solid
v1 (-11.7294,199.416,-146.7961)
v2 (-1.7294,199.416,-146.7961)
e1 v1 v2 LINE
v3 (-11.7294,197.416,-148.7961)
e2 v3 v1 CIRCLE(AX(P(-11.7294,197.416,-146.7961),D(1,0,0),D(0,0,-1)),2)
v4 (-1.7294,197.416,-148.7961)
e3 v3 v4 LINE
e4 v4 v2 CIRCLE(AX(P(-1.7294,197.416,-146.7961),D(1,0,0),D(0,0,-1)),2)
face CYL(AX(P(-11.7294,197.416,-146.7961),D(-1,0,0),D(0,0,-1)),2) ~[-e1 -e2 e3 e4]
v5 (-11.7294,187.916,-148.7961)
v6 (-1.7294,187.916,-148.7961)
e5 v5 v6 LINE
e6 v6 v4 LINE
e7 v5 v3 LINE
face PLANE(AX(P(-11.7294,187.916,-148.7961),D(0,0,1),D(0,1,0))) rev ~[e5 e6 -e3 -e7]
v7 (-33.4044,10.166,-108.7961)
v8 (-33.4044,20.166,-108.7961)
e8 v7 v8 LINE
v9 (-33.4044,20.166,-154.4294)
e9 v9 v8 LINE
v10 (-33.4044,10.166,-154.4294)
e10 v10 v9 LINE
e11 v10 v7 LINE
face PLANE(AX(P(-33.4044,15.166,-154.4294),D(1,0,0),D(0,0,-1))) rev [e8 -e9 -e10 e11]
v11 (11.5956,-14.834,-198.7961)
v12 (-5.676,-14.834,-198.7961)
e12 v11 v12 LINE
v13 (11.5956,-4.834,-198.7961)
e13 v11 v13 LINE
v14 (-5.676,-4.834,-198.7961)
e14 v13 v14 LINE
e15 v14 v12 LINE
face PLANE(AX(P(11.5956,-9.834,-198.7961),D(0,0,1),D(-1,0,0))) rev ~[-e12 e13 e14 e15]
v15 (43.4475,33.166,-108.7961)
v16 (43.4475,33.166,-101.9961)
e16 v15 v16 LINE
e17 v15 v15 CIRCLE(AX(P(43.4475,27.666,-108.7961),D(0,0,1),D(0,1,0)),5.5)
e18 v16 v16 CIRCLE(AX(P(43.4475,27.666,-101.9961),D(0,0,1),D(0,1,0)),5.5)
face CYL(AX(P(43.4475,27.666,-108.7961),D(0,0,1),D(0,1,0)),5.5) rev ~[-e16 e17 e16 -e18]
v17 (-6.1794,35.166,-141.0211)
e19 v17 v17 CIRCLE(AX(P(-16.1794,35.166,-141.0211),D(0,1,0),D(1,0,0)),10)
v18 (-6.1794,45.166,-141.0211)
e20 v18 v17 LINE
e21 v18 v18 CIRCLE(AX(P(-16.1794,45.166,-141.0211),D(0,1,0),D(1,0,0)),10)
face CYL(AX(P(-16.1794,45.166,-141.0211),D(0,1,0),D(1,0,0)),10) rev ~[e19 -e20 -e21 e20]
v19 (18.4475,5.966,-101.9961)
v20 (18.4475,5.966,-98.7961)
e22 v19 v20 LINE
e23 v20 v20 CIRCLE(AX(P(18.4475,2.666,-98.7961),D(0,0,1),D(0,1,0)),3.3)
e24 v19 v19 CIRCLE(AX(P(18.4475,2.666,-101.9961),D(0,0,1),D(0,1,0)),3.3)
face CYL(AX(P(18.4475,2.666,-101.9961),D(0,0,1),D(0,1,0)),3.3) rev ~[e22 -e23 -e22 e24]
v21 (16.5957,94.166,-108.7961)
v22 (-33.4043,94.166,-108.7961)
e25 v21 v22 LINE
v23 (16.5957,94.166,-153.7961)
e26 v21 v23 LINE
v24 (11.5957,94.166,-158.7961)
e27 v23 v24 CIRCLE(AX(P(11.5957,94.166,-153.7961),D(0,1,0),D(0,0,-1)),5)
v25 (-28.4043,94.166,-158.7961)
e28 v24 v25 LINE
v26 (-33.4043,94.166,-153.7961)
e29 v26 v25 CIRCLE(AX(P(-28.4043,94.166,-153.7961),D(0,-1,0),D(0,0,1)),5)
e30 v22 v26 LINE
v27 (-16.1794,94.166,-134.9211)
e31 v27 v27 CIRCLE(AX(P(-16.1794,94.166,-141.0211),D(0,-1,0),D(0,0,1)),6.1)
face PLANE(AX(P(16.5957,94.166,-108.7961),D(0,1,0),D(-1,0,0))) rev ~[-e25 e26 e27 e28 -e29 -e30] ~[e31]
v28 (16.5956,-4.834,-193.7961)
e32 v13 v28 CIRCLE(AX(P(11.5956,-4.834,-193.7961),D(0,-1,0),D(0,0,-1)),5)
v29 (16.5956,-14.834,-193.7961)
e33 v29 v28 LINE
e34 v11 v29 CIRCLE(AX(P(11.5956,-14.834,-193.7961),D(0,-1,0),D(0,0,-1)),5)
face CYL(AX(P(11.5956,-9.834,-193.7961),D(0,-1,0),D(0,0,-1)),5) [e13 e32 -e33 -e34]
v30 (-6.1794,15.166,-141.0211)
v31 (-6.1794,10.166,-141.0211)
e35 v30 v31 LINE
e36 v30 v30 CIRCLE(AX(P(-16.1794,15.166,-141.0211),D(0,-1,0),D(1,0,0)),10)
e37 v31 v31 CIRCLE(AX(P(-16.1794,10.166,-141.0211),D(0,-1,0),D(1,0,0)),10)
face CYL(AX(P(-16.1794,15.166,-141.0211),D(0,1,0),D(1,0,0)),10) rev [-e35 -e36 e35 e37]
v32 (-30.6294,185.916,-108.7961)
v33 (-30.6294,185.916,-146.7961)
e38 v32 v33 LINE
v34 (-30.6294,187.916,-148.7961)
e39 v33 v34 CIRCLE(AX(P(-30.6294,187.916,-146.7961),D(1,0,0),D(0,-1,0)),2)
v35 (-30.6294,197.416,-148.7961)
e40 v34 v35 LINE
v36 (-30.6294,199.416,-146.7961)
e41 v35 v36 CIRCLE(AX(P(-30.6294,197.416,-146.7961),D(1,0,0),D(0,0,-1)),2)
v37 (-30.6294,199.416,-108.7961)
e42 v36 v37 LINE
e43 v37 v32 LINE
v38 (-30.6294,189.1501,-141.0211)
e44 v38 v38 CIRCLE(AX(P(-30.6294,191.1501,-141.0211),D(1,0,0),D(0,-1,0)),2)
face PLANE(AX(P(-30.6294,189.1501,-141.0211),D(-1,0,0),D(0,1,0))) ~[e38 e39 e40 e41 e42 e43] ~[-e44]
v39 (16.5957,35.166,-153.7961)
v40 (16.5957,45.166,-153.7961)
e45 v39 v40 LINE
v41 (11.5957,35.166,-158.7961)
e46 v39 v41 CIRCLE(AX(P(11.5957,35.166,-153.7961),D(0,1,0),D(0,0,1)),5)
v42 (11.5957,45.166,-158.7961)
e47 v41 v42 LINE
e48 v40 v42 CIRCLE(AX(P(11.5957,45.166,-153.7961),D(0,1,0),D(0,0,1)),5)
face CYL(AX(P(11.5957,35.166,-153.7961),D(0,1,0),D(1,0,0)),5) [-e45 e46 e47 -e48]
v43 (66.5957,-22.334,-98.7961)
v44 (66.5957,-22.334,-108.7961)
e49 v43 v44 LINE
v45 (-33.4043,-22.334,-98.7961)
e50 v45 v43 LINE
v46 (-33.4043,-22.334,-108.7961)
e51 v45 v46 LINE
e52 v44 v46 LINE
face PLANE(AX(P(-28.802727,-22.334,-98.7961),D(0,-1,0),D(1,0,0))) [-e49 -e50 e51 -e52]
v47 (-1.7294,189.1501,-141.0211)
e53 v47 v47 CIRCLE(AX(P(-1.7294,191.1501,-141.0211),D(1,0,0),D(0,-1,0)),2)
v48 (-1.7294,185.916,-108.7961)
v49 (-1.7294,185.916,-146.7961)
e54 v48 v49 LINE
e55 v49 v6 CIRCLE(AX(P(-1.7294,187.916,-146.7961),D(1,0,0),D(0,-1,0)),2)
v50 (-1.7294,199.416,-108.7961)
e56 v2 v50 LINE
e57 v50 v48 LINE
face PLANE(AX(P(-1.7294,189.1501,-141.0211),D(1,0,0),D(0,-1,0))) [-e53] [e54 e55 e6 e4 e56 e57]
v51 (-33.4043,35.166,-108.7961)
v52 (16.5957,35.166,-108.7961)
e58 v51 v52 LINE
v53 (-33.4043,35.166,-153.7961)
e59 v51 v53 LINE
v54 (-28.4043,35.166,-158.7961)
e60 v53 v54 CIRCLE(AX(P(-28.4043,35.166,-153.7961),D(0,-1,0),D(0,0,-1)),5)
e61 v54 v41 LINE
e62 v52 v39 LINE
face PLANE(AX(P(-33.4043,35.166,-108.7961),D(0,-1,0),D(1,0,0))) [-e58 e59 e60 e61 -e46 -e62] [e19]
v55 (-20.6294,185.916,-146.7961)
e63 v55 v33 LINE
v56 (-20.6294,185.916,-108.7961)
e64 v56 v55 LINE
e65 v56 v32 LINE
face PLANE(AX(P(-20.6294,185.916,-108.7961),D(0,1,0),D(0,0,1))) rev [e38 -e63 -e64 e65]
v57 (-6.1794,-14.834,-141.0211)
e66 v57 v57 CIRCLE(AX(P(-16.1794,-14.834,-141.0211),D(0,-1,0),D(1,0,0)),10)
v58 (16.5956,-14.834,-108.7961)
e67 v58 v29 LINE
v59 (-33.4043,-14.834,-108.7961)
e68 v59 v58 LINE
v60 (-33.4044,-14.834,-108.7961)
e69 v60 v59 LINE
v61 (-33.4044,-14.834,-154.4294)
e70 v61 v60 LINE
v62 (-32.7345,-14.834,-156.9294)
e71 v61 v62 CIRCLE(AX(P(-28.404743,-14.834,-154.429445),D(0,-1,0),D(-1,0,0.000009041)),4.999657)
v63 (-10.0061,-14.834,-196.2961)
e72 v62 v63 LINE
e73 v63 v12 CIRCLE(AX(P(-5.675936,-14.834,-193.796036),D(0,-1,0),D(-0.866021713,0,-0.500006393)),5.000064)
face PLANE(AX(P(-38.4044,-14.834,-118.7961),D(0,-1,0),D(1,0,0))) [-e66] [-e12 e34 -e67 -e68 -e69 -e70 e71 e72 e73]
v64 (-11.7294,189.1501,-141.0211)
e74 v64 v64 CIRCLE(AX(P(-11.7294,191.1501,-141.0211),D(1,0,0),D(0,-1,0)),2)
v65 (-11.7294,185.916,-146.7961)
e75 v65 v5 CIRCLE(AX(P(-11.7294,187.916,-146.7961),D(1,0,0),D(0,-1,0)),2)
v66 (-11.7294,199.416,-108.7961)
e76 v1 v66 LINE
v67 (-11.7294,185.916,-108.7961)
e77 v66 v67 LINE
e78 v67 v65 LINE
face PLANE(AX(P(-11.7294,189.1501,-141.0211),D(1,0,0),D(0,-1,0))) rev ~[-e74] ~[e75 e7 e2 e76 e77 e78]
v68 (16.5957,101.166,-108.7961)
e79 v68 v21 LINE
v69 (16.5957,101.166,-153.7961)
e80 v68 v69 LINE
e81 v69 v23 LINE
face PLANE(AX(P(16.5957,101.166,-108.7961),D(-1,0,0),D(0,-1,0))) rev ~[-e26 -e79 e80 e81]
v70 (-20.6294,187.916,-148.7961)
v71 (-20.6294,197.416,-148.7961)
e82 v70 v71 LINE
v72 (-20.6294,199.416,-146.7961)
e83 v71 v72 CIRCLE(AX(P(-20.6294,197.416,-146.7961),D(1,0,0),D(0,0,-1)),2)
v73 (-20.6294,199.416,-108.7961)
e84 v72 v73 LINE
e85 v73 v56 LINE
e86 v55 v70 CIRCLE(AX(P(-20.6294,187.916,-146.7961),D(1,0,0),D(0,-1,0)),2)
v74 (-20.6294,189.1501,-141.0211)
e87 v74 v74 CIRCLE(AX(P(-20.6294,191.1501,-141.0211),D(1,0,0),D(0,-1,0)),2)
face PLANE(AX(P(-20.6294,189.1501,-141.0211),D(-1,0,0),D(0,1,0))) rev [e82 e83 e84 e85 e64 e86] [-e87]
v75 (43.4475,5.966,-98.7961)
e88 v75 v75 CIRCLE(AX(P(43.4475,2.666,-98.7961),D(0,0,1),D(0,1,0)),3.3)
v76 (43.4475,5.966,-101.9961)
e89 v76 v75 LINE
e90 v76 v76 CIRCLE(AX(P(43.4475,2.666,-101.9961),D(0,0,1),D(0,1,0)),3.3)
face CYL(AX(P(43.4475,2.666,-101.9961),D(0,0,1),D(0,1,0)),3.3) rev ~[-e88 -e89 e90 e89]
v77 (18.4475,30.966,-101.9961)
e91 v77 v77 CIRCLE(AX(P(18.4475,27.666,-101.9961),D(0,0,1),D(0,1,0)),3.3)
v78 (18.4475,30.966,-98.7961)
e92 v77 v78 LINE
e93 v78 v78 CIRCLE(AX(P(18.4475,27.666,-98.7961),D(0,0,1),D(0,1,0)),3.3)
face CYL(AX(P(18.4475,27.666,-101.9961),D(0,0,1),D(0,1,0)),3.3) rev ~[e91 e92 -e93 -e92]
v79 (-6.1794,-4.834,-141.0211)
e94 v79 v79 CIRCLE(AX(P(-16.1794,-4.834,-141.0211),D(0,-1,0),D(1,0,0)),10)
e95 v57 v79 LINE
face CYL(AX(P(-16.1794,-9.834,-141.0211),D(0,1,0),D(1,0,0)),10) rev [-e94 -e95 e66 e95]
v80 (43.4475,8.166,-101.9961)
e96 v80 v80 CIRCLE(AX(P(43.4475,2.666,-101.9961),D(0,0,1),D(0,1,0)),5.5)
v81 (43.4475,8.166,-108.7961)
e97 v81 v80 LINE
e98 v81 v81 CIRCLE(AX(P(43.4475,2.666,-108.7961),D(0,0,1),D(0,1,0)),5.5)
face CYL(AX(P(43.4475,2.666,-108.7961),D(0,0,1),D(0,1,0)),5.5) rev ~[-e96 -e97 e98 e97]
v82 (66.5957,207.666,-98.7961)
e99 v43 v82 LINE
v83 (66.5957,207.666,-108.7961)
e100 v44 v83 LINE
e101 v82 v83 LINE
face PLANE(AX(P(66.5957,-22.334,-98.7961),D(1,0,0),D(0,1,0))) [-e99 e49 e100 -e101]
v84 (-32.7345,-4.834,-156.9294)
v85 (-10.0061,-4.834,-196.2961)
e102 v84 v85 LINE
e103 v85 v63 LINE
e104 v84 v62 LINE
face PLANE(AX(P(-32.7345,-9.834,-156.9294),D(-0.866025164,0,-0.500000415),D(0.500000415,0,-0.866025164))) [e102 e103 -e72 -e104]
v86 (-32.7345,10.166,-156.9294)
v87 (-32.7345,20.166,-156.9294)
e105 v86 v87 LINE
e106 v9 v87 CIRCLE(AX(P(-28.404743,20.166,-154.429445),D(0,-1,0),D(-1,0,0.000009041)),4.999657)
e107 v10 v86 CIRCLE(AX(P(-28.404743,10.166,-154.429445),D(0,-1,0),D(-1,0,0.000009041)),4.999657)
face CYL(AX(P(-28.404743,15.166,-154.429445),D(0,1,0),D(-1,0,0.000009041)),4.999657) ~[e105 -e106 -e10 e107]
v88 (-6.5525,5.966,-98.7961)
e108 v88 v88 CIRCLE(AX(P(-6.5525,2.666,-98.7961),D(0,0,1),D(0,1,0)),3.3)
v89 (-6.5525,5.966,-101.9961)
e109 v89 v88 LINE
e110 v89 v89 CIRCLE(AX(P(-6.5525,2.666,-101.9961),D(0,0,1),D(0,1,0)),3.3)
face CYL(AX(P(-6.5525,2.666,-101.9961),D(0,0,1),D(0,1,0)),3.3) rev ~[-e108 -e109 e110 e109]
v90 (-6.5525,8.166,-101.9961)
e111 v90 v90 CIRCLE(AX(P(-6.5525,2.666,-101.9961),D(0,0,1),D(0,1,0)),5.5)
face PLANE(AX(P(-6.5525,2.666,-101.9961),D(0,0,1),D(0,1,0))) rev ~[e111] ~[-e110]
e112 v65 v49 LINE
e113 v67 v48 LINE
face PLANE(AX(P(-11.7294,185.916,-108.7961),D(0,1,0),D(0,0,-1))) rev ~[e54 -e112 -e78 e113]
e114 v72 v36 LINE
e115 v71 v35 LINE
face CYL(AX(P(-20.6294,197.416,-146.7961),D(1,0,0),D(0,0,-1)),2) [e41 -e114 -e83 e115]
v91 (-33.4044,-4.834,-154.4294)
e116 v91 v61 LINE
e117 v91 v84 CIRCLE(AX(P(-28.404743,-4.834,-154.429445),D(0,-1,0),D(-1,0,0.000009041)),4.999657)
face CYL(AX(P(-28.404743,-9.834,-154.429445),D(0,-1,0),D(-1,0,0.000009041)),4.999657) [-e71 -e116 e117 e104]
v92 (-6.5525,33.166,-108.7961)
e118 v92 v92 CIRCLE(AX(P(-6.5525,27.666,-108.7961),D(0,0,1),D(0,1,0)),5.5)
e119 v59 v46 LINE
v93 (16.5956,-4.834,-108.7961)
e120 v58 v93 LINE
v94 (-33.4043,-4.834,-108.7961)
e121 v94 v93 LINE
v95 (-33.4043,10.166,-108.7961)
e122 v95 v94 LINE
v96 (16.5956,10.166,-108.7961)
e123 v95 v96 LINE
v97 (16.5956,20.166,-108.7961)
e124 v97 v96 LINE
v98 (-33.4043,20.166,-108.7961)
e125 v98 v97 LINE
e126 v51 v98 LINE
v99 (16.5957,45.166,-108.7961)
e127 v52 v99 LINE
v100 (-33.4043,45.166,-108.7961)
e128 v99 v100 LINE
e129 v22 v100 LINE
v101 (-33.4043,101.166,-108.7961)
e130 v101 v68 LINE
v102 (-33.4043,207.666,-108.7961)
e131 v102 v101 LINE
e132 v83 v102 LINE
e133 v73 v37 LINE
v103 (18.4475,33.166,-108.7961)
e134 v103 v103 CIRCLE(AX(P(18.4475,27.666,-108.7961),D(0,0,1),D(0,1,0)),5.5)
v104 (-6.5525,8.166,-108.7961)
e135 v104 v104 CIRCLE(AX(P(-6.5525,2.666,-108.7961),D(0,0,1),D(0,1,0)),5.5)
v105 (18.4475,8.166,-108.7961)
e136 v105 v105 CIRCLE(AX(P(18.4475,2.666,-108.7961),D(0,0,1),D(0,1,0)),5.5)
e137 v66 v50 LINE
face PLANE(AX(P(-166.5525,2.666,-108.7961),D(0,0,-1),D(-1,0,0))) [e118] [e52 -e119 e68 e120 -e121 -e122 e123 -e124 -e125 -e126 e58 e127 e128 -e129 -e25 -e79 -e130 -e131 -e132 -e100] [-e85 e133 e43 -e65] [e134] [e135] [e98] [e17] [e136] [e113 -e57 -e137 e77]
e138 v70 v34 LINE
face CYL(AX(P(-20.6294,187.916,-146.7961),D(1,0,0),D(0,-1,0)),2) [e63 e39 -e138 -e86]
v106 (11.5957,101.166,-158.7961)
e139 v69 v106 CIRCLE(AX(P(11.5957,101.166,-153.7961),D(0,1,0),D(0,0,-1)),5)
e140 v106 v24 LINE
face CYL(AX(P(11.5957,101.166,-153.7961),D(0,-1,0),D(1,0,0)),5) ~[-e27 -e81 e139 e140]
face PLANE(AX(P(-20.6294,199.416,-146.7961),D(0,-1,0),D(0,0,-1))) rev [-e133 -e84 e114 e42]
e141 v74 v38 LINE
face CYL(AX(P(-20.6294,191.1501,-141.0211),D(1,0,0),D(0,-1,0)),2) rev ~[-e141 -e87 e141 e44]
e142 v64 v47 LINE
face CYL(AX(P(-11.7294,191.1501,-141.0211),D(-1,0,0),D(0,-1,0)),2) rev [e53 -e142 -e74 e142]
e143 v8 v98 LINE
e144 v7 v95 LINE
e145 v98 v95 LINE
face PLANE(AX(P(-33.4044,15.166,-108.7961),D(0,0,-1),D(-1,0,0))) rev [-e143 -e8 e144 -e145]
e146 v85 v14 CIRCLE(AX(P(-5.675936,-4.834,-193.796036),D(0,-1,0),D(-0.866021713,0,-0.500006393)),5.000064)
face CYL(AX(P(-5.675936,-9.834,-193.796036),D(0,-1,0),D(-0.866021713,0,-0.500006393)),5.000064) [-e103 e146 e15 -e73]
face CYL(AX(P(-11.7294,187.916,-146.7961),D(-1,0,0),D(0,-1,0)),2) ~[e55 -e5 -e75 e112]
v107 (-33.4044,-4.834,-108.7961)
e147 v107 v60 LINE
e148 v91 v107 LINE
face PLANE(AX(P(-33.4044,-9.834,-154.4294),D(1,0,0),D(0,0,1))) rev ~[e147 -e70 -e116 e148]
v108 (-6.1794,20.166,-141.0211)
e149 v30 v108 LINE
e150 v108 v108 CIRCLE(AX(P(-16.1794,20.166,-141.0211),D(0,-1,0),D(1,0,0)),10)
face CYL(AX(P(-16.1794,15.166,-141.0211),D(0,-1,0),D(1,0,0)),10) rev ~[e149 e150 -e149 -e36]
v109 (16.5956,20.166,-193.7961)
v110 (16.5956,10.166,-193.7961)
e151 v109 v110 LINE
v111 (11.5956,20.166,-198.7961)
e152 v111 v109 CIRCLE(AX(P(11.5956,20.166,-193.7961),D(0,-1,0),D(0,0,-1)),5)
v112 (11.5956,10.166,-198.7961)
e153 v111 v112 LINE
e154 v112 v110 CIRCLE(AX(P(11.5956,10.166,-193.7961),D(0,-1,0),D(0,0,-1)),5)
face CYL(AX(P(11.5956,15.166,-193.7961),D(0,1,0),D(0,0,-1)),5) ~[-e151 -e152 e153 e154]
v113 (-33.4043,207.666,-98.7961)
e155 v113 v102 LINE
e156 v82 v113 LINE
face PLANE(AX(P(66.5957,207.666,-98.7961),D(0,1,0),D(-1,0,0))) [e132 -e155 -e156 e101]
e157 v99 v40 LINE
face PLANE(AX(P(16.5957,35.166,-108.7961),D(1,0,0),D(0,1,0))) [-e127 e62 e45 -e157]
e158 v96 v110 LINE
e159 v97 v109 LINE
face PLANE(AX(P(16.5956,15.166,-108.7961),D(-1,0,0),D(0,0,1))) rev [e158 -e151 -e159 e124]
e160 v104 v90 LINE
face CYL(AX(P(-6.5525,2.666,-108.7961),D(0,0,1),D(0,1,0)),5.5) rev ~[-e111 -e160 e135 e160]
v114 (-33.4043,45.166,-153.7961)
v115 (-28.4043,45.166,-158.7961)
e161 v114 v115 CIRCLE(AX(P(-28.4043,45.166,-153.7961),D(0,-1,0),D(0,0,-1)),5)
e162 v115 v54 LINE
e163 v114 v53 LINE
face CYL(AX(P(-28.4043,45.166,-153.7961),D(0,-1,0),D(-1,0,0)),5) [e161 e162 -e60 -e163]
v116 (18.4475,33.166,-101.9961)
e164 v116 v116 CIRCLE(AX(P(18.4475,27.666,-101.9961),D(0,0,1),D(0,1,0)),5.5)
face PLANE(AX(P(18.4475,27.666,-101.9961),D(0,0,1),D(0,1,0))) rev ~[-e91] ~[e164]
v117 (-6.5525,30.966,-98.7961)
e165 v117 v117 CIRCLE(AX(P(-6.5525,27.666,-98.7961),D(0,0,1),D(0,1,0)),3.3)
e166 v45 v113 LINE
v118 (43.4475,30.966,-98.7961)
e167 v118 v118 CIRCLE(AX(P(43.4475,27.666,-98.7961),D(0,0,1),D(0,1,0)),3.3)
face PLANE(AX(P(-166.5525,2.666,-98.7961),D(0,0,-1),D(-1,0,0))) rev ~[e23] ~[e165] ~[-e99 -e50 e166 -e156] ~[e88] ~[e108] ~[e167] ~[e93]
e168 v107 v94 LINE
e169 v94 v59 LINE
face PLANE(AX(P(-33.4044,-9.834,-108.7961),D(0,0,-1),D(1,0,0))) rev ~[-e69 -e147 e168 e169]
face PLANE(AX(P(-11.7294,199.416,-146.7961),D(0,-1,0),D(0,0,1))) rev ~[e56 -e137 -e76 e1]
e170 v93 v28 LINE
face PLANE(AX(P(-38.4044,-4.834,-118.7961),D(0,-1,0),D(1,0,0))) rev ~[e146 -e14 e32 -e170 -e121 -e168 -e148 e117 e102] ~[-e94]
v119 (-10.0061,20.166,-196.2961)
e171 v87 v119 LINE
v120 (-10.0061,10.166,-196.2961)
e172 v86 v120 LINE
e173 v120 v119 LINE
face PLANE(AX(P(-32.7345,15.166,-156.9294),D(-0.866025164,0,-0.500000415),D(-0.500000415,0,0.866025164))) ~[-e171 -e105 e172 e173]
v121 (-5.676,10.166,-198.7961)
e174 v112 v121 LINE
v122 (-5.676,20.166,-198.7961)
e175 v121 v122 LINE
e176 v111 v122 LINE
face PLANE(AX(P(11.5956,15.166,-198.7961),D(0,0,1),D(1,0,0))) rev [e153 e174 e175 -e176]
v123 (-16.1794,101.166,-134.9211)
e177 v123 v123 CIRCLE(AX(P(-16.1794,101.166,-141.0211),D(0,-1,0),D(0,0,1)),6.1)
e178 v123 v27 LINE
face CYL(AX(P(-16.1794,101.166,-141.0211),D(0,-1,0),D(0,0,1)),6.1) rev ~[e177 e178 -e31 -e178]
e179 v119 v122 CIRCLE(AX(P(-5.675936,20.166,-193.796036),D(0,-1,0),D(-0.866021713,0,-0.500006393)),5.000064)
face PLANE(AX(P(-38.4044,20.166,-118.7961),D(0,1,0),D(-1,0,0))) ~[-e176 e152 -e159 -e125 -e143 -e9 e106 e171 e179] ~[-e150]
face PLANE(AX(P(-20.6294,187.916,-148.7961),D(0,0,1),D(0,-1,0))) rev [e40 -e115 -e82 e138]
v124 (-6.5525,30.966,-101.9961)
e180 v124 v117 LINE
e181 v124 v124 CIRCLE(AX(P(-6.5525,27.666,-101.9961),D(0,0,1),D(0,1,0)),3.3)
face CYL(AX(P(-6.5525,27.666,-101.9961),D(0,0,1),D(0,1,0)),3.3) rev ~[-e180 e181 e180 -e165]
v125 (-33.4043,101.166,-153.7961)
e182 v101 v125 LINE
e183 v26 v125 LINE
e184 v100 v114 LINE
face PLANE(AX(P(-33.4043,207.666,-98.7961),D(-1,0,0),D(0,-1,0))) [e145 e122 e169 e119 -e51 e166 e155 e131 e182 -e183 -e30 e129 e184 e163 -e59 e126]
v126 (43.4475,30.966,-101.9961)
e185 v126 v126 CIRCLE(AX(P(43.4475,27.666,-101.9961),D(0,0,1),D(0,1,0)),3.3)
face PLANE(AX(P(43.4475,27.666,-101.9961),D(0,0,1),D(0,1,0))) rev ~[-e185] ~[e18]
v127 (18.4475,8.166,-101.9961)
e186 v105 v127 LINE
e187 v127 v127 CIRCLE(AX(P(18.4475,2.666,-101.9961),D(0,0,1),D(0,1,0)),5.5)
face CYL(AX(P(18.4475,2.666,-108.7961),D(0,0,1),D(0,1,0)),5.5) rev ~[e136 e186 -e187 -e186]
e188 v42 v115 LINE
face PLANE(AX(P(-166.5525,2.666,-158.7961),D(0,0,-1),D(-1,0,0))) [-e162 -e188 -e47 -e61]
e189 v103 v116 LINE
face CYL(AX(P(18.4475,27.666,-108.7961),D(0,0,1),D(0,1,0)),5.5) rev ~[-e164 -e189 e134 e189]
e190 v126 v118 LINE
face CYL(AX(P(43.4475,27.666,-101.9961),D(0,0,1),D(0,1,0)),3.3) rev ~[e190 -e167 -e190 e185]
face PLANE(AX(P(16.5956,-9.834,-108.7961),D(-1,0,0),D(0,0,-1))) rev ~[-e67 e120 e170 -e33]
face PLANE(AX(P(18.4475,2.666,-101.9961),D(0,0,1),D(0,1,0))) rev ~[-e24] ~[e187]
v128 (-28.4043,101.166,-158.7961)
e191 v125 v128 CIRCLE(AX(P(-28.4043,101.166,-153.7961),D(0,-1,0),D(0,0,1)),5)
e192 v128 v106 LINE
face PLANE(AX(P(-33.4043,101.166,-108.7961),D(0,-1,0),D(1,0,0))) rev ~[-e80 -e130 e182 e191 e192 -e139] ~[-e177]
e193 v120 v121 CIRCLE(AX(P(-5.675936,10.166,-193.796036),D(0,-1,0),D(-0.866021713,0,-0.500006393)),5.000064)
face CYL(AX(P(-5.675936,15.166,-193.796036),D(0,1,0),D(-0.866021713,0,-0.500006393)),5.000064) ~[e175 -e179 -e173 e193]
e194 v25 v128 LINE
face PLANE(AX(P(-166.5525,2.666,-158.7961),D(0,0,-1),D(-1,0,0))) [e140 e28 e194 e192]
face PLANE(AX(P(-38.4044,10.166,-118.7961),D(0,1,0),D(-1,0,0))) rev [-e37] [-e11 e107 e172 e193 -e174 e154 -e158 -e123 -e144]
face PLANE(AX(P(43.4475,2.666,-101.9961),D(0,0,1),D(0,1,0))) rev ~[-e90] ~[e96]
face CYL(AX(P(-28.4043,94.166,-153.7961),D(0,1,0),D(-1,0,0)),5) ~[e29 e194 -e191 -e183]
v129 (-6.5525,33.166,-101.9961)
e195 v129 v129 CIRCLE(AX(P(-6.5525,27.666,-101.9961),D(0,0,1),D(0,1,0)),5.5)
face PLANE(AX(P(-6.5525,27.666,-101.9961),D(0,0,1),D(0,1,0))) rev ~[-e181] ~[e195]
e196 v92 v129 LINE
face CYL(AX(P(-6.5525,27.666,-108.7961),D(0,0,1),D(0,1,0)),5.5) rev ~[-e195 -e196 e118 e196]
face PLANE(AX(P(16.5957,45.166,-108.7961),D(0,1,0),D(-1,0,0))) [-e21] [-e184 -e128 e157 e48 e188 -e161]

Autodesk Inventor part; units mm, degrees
ref_plane "Work Plane1" through (-166.5525, 2.666, -98.7961) normal (0, 0, -1) x (-1, 0, 0)
sketch "Sketch1" plane through (-166.5525, 2.666, -98.7961) normal (0, 0, -1) x (-1, 0, 0)
  line L0 (-233.1482, 205) -> (-133.1482, 205)
  line L1 (-133.1482, 205) -> (-133.1482, -25)
  line L2 (-133.1482, -25) -> (-233.1482, -25)
  line L3 (-233.1482, -25) -> (-233.1482, 205)
  circle A0 centre (0, 0) radius 140 projected
  circle A1 centre (-210, 25) radius 2.4585 projected
  circle A2 centre (-185, 25) radius 2.4585 projected
  circle A3 centre (-160, 25) radius 2.4585 projected
  circle A4 centre (-185, 0) radius 2.4585 projected
  circle A5 centre (-210, 0) radius 2.4585 projected
  circle A6 centre (-160, 0) radius 2.4585 projected
  circle A7 centre (0.3518, 0) radius 128.5 projected
  line L4 (-128.1482, 39.0483) -> (-128.1482, -22.9652) construction
  dimension "d10" = 5
  dimension "d56" = 230
  dimension "d57" = 100
  dimension "d63" = 25
extrude "Extrusion1" add sketch "Sketch1" along normal blind 10 contours L0 L1 A0 L2 L3 | L1 L2 A0 | A1 | A2 | A3 | A4 | A5 | A6 picked at (-134.3536, 16.0623)
hole "Hole1" at (43.4475, 27.666, -108.7961) at (18.4475, 27.666, -108.7961) at (-6.5525, 27.666, -108.7961) at (43.4475, 2.666, -108.7961) at (18.4475, 2.666, -108.7961) at (-6.5525, 2.666, -108.7961) direction (0, 0, 1) diameter 6.6 end through all counterbore diameter 11 counterbore depth 6.8 clearance for "Socket Head Cap Screw ISO 4762" size "M6" standard "ISO"
ref_plane "Work Plane2" through (-38.4044, -9.834, -118.7961) normal (0, -1, 0) x (1, 0, 0)
sketch "Sketch3" plane through (-38.4044, -9.834, -118.7961) normal (0, -1, 0) x (1, 0, 0)
  line L0 (5, 10) -> (55, 10)
  line L1 (55, 10) -> (55, -75)
  line L2 (50, -80) -> (32.7284, -80)
  line L3 (5, -35.6333) -> (5, 10)
  line L4 (105, 10) -> (5, 10) projected
  line L5 (5, 20) -> (5, 10) projected
  circle A0 centre (22.225, -22.225) radius 12.7 projected
  circle A1 centre (22.225, -22.225) radius 10
  line L6 (5.6699, -38.1333) -> (28.3983, -77.5)
  line L7 (5, -36.973) -> (50.4568, -36.973) construction
  arc A2 (28.3983, -77.5) -> (32.7284, -80) centre (32.7284, -75) ccw
  arc A3 (50, -80) -> (55, -75) centre (50, -75) ccw
  arc A4 (5, -35.6333) -> (5.6699, -38.1333) centre (10, -35.6333) ccw
  point P0 (38.4044, 118.7961)
  dimension "d11" = 20
  dimension "d13" = 60
  dimension "d14" = 5
  dimension "d58" = 90
  dimension "d60" = 50
extrude "Extrusion2" add sketch "Sketch3" along normal mid plane 10 contours L0 L1 A3 L2 A2 L6 A4 L3 | A0
ref_plane "Work Plane3" through (-25.7044, 2.666, -220.3961) normal (0, -1, 0) x (1, 0, 0)
mirror "Mirror1" about plane through (-25.7044, 2.666, -220.3961) normal (0, -1, 0) of "Extrusion2"
sketch "Sketch4" plane through (-166.5525, 2.666, -108.7961) normal (0, 0, -1) x (-1, 0, 0)
  line L0 (-133.1482, 205) -> (-133.1482, -25) projected
  line L1 (-133.1482, 32.5) -> (-183.1482, 32.5)
  line L2 (-183.1482, 32.5) -> (-183.1482, 42.5)
  line L3 (-183.1482, 42.5) -> (-133.1482, 42.5)
  line L4 (-133.1482, 42.5) -> (-133.1482, 32.5)
  line L5 (-183.1482, 17.5) -> (-183.1482, 7.5) projected
  circle A0 centre (-185, 25) radius 3.3 projected
  line L6 (-160.8766, 17.5) -> (-178.1482, 17.5) projected
  point P0 (-166.5525, -2.666)
  dimension "d17" = 4.2
  dimension "d18" = 4.2
  dimension "d19" = 10
extrude "Extrusion3" add sketch "Sketch4" along normal blind 50 contours L0 L1 L2 L3
fillet "Fillet1" radius 5 2 edges at (-33.4044, 40.166, -158.7961) (16.5956, 40.166, -158.7961)
sketch "Sketch5" plane through (-33.4044, 45.166, -108.7961) normal (0, 1, 0) x (1, 0, 0)
  circle A0 centre (17.225, 32.225) radius 10 projected
  point P0 (33.4044, -108.7961)
extrude "Extrusion4" cut sketch "Sketch5" against normal blind 15.75
ref_plane "Work Plane6" through (-16.1794, 92.1501, -148.7711) normal (0, -1, 0) x (0, 0, 1)
sketch "Sketch7" plane through (-16.1794, 92.1501, -148.7711) normal (0, -1, 0) x (0, 0, 1)
  line L0 (39.975, 17.225) -> (39.975, -82.775) projected
  line L1 (39.975, 17.225) -> (-5.025, 17.225)
  line L2 (-10.025, 12.225) -> (-10.025, -12.775)
  line L3 (-5.025, -17.775) -> (39.975, -17.775)
  line L4 (39.975, -17.775) -> (39.975, 17.225)
  arc A0 (-5.025, 17.225) -> (-10.025, 12.225) centre (-5.025, 12.225) ccw
  arc A1 (-10.025, -12.775) -> (-5.025, -17.775) centre (-5.025, -12.775) ccw
  point P0 (148.7711, -16.1794)
  point P1 (-10.025, -17.775)
  point P2 (-10.025, 17.225)
  point P3 (7.75, 0)
  dimension "d25" = 50
  dimension "d26" = 35
  dimension "d27" = 5
extrude "Extrusion5" [suppressed]
sketch "Sketch8" plane through (-16.1794, 85.1501, -148.7711) normal (0, -1, 0) x (1, 0, 0)
  point P0 (16.1794, 148.7711)
  point P1 (0, 7.75)
hole "Hole2" [suppressed]
ref_plane "Work Plane8" through (-11.7294, 189.1501, -141.0211) normal (1, 0, 0) x (0, -1, 0)
sketch "Sketch12" plane through (-11.7294, 189.1501, -141.0211) normal (1, 0, 0) x (0, -1, 0)
  circle A0 centre (-2, 0) radius 2 projected
  line L0 (0, 4.5164) -> (0, 7) projected
  line L1 (-9.233, 4.5164) -> (0, 4.5164) projected
  spline S0 degree 2 poles (-10, 3.4325) (-9.6688, 3.9374) (-9.233, 4.5164) knots 0 0 0 0.1328 0.1328 0.1328 weights 1 1.004688 1 projected
  line L2 (-10, -3.4325) -> (-10, 3.4325) projected
  spline S1 degree 2 poles (-9.233, -4.5164) (-9.6688, -3.9374) (-10, -3.4325) knots 0 0 0 0.1328 0.1328 0.1328 weights 1 1.004688 1 projected
  line L3 (0, -4.5164) -> (-9.233, -4.5164) projected
  line L4 (0, -7) -> (0, -4.5164) projected
  line L5 (0, -7) -> (4.2876, -7) projected
  spline S2 degree 2 poles (4, -6.6678) (4.1403, -6.8309) (4.2876, -7) knots 0 0 0 0.044596 0.044596 0.044596 weights 1 1.000378 1.000314 projected
  line L6 (4, 6.6678) -> (4, -6.6678) projected
  spline S3 degree 2 poles (4.2876, 7) (4.1403, 6.8309) (4, 6.6678) knots 0.03161 0.03161 0.03161 0.076206 0.076206 0.076206 weights 1.000314 1.000378 1 projected
  line L7 (-18.5159, -32.225) -> (211.4841, -32.225) projected
  line L8 (1.2341, 7.775) -> (-8.2659, 7.775)
  line L9 (-10.2659, 5.775) -> (-10.2659, -32.225)
  line L10 (-10.2659, -32.225) -> (3.2341, -32.225)
  line L11 (3.2341, -32.225) -> (3.2341, 5.775)
  arc A1 (-8.2659, 7.775) -> (-10.2659, 5.775) centre (-8.2659, 5.775) ccw
  arc A2 (3.2341, 5.775) -> (1.2341, 7.775) centre (1.2341, 5.775) ccw
  line L12 (-18.5159, -42.225) -> (-18.5159, -32.225) projected
  point P0 (189.1501, -141.0211)
  point P1 (3.2341, 7.775)
  point P2 (-3.5159, 7.775)
  dimension "d48" = 13.5
  dimension "d49" = 2
  dimension "d62" = 40
  dimension "d79" = 15
extrude "Extrusion7" add sketch "Sketch12" along normal blind 10
ref_plane "Work Plane10" through (-16.1794, 180.6501, -141.0211) normal (-1, 0, 0) x (0, 1, 0)
ref_plane "Work Plane9" through (-20.6294, 180.6501, -141.0211) normal (-1, 0, 0) x (0, 1, 0)
mirror "Mirror2" about plane through (-16.1794, 180.6501, -141.0211) normal (-1, 0, 0) of "Extrusion7"
sketch "Sketch13" plane through (-166.5525, 2.666, -108.7961) normal (0, 0, -1) x (-1, 0, 0)
  line L0 (-233.1482, 205) -> (-188.1482, 205)
  line L1 (-188.1482, 205) -> (-188.1482, 75)
  line L2 (-188.1482, 75) -> (-233.1482, 75)
  line L3 (-233.1482, 75) -> (-233.1482, 205)
  line L4 (-233.1482, -25) -> (-133.1482, -25) projected
  line L5 (-133.1482, 42.5) -> (-133.1482, 205) projected
  point P0 (-166.5525, -2.666)
  point P1 (-133.1482, 89.4841)
  dimension "d52" = 100
  dimension "d53" = 55
extrude "Extrusion8" [suppressed]
ref_plane "Work Plane11" through (-33.4044, 2.666, -108.7961) normal (0, -1, 0) x (1, 0, 0)
sketch "Sketch15" plane through (-166.5525, 2.666, -108.7961) normal (0, 0, -1) x (-1, 0, 0)
  line L0 (-133.1482, 205) -> (-133.1482, -25) construction
  line L1 (-133.1482, 95) -> (-183.1482, 95) construction
  line L2 (-133.1482, 95) -> (-83.1482, 95) construction
  line L3 (-133.1482, 205) -> (-233.1482, 205) construction
  line L4 (-183.1482, 91.5) -> (-133.1482, 91.5)
  line L5 (-133.1482, 91.5) -> (-133.1482, 98.5)
  line L6 (-133.1482, 98.5) -> (-183.1482, 98.5)
  line L7 (-183.1482, 98.5) -> (-183.1482, 91.5)
  line L8 (-183.1482, 91.5) -> (-133.1482, 98.5) construction
  line L9 (-133.1482, 91.5) -> (-183.1482, 98.5) construction
  point P0 (-166.5525, -2.666)
  point P1 (-158.1482, 95)
  dimension "d64" = 50
  dimension "d65" = 180
  dimension "d66" = 110
  dimension "d67" = 7
extrude "Extrusion9" add sketch "Sketch15" along normal blind 50
fillet "Fillet2" radius 5 2 edges at (-33.4044, 97.666, -158.7961) (16.5956, 97.666, -158.7961)
sketch "Sketch16" plane through (-33.4044, 101.166, -108.7961) normal (0, 1, 0) x (1, 0, 0)
  point P0 (33.4044, -108.7961)
  point P1 (17.225, 32.225)
hole "Hole3" at (-16.1794, 101.166, -141.0211) direction (0, -1, 0) diameter 12.2 depth 17.1 tip angle 118
equation "\"d18\" = d17"
properties part number "Verbinder_Tisch_Dewar"
